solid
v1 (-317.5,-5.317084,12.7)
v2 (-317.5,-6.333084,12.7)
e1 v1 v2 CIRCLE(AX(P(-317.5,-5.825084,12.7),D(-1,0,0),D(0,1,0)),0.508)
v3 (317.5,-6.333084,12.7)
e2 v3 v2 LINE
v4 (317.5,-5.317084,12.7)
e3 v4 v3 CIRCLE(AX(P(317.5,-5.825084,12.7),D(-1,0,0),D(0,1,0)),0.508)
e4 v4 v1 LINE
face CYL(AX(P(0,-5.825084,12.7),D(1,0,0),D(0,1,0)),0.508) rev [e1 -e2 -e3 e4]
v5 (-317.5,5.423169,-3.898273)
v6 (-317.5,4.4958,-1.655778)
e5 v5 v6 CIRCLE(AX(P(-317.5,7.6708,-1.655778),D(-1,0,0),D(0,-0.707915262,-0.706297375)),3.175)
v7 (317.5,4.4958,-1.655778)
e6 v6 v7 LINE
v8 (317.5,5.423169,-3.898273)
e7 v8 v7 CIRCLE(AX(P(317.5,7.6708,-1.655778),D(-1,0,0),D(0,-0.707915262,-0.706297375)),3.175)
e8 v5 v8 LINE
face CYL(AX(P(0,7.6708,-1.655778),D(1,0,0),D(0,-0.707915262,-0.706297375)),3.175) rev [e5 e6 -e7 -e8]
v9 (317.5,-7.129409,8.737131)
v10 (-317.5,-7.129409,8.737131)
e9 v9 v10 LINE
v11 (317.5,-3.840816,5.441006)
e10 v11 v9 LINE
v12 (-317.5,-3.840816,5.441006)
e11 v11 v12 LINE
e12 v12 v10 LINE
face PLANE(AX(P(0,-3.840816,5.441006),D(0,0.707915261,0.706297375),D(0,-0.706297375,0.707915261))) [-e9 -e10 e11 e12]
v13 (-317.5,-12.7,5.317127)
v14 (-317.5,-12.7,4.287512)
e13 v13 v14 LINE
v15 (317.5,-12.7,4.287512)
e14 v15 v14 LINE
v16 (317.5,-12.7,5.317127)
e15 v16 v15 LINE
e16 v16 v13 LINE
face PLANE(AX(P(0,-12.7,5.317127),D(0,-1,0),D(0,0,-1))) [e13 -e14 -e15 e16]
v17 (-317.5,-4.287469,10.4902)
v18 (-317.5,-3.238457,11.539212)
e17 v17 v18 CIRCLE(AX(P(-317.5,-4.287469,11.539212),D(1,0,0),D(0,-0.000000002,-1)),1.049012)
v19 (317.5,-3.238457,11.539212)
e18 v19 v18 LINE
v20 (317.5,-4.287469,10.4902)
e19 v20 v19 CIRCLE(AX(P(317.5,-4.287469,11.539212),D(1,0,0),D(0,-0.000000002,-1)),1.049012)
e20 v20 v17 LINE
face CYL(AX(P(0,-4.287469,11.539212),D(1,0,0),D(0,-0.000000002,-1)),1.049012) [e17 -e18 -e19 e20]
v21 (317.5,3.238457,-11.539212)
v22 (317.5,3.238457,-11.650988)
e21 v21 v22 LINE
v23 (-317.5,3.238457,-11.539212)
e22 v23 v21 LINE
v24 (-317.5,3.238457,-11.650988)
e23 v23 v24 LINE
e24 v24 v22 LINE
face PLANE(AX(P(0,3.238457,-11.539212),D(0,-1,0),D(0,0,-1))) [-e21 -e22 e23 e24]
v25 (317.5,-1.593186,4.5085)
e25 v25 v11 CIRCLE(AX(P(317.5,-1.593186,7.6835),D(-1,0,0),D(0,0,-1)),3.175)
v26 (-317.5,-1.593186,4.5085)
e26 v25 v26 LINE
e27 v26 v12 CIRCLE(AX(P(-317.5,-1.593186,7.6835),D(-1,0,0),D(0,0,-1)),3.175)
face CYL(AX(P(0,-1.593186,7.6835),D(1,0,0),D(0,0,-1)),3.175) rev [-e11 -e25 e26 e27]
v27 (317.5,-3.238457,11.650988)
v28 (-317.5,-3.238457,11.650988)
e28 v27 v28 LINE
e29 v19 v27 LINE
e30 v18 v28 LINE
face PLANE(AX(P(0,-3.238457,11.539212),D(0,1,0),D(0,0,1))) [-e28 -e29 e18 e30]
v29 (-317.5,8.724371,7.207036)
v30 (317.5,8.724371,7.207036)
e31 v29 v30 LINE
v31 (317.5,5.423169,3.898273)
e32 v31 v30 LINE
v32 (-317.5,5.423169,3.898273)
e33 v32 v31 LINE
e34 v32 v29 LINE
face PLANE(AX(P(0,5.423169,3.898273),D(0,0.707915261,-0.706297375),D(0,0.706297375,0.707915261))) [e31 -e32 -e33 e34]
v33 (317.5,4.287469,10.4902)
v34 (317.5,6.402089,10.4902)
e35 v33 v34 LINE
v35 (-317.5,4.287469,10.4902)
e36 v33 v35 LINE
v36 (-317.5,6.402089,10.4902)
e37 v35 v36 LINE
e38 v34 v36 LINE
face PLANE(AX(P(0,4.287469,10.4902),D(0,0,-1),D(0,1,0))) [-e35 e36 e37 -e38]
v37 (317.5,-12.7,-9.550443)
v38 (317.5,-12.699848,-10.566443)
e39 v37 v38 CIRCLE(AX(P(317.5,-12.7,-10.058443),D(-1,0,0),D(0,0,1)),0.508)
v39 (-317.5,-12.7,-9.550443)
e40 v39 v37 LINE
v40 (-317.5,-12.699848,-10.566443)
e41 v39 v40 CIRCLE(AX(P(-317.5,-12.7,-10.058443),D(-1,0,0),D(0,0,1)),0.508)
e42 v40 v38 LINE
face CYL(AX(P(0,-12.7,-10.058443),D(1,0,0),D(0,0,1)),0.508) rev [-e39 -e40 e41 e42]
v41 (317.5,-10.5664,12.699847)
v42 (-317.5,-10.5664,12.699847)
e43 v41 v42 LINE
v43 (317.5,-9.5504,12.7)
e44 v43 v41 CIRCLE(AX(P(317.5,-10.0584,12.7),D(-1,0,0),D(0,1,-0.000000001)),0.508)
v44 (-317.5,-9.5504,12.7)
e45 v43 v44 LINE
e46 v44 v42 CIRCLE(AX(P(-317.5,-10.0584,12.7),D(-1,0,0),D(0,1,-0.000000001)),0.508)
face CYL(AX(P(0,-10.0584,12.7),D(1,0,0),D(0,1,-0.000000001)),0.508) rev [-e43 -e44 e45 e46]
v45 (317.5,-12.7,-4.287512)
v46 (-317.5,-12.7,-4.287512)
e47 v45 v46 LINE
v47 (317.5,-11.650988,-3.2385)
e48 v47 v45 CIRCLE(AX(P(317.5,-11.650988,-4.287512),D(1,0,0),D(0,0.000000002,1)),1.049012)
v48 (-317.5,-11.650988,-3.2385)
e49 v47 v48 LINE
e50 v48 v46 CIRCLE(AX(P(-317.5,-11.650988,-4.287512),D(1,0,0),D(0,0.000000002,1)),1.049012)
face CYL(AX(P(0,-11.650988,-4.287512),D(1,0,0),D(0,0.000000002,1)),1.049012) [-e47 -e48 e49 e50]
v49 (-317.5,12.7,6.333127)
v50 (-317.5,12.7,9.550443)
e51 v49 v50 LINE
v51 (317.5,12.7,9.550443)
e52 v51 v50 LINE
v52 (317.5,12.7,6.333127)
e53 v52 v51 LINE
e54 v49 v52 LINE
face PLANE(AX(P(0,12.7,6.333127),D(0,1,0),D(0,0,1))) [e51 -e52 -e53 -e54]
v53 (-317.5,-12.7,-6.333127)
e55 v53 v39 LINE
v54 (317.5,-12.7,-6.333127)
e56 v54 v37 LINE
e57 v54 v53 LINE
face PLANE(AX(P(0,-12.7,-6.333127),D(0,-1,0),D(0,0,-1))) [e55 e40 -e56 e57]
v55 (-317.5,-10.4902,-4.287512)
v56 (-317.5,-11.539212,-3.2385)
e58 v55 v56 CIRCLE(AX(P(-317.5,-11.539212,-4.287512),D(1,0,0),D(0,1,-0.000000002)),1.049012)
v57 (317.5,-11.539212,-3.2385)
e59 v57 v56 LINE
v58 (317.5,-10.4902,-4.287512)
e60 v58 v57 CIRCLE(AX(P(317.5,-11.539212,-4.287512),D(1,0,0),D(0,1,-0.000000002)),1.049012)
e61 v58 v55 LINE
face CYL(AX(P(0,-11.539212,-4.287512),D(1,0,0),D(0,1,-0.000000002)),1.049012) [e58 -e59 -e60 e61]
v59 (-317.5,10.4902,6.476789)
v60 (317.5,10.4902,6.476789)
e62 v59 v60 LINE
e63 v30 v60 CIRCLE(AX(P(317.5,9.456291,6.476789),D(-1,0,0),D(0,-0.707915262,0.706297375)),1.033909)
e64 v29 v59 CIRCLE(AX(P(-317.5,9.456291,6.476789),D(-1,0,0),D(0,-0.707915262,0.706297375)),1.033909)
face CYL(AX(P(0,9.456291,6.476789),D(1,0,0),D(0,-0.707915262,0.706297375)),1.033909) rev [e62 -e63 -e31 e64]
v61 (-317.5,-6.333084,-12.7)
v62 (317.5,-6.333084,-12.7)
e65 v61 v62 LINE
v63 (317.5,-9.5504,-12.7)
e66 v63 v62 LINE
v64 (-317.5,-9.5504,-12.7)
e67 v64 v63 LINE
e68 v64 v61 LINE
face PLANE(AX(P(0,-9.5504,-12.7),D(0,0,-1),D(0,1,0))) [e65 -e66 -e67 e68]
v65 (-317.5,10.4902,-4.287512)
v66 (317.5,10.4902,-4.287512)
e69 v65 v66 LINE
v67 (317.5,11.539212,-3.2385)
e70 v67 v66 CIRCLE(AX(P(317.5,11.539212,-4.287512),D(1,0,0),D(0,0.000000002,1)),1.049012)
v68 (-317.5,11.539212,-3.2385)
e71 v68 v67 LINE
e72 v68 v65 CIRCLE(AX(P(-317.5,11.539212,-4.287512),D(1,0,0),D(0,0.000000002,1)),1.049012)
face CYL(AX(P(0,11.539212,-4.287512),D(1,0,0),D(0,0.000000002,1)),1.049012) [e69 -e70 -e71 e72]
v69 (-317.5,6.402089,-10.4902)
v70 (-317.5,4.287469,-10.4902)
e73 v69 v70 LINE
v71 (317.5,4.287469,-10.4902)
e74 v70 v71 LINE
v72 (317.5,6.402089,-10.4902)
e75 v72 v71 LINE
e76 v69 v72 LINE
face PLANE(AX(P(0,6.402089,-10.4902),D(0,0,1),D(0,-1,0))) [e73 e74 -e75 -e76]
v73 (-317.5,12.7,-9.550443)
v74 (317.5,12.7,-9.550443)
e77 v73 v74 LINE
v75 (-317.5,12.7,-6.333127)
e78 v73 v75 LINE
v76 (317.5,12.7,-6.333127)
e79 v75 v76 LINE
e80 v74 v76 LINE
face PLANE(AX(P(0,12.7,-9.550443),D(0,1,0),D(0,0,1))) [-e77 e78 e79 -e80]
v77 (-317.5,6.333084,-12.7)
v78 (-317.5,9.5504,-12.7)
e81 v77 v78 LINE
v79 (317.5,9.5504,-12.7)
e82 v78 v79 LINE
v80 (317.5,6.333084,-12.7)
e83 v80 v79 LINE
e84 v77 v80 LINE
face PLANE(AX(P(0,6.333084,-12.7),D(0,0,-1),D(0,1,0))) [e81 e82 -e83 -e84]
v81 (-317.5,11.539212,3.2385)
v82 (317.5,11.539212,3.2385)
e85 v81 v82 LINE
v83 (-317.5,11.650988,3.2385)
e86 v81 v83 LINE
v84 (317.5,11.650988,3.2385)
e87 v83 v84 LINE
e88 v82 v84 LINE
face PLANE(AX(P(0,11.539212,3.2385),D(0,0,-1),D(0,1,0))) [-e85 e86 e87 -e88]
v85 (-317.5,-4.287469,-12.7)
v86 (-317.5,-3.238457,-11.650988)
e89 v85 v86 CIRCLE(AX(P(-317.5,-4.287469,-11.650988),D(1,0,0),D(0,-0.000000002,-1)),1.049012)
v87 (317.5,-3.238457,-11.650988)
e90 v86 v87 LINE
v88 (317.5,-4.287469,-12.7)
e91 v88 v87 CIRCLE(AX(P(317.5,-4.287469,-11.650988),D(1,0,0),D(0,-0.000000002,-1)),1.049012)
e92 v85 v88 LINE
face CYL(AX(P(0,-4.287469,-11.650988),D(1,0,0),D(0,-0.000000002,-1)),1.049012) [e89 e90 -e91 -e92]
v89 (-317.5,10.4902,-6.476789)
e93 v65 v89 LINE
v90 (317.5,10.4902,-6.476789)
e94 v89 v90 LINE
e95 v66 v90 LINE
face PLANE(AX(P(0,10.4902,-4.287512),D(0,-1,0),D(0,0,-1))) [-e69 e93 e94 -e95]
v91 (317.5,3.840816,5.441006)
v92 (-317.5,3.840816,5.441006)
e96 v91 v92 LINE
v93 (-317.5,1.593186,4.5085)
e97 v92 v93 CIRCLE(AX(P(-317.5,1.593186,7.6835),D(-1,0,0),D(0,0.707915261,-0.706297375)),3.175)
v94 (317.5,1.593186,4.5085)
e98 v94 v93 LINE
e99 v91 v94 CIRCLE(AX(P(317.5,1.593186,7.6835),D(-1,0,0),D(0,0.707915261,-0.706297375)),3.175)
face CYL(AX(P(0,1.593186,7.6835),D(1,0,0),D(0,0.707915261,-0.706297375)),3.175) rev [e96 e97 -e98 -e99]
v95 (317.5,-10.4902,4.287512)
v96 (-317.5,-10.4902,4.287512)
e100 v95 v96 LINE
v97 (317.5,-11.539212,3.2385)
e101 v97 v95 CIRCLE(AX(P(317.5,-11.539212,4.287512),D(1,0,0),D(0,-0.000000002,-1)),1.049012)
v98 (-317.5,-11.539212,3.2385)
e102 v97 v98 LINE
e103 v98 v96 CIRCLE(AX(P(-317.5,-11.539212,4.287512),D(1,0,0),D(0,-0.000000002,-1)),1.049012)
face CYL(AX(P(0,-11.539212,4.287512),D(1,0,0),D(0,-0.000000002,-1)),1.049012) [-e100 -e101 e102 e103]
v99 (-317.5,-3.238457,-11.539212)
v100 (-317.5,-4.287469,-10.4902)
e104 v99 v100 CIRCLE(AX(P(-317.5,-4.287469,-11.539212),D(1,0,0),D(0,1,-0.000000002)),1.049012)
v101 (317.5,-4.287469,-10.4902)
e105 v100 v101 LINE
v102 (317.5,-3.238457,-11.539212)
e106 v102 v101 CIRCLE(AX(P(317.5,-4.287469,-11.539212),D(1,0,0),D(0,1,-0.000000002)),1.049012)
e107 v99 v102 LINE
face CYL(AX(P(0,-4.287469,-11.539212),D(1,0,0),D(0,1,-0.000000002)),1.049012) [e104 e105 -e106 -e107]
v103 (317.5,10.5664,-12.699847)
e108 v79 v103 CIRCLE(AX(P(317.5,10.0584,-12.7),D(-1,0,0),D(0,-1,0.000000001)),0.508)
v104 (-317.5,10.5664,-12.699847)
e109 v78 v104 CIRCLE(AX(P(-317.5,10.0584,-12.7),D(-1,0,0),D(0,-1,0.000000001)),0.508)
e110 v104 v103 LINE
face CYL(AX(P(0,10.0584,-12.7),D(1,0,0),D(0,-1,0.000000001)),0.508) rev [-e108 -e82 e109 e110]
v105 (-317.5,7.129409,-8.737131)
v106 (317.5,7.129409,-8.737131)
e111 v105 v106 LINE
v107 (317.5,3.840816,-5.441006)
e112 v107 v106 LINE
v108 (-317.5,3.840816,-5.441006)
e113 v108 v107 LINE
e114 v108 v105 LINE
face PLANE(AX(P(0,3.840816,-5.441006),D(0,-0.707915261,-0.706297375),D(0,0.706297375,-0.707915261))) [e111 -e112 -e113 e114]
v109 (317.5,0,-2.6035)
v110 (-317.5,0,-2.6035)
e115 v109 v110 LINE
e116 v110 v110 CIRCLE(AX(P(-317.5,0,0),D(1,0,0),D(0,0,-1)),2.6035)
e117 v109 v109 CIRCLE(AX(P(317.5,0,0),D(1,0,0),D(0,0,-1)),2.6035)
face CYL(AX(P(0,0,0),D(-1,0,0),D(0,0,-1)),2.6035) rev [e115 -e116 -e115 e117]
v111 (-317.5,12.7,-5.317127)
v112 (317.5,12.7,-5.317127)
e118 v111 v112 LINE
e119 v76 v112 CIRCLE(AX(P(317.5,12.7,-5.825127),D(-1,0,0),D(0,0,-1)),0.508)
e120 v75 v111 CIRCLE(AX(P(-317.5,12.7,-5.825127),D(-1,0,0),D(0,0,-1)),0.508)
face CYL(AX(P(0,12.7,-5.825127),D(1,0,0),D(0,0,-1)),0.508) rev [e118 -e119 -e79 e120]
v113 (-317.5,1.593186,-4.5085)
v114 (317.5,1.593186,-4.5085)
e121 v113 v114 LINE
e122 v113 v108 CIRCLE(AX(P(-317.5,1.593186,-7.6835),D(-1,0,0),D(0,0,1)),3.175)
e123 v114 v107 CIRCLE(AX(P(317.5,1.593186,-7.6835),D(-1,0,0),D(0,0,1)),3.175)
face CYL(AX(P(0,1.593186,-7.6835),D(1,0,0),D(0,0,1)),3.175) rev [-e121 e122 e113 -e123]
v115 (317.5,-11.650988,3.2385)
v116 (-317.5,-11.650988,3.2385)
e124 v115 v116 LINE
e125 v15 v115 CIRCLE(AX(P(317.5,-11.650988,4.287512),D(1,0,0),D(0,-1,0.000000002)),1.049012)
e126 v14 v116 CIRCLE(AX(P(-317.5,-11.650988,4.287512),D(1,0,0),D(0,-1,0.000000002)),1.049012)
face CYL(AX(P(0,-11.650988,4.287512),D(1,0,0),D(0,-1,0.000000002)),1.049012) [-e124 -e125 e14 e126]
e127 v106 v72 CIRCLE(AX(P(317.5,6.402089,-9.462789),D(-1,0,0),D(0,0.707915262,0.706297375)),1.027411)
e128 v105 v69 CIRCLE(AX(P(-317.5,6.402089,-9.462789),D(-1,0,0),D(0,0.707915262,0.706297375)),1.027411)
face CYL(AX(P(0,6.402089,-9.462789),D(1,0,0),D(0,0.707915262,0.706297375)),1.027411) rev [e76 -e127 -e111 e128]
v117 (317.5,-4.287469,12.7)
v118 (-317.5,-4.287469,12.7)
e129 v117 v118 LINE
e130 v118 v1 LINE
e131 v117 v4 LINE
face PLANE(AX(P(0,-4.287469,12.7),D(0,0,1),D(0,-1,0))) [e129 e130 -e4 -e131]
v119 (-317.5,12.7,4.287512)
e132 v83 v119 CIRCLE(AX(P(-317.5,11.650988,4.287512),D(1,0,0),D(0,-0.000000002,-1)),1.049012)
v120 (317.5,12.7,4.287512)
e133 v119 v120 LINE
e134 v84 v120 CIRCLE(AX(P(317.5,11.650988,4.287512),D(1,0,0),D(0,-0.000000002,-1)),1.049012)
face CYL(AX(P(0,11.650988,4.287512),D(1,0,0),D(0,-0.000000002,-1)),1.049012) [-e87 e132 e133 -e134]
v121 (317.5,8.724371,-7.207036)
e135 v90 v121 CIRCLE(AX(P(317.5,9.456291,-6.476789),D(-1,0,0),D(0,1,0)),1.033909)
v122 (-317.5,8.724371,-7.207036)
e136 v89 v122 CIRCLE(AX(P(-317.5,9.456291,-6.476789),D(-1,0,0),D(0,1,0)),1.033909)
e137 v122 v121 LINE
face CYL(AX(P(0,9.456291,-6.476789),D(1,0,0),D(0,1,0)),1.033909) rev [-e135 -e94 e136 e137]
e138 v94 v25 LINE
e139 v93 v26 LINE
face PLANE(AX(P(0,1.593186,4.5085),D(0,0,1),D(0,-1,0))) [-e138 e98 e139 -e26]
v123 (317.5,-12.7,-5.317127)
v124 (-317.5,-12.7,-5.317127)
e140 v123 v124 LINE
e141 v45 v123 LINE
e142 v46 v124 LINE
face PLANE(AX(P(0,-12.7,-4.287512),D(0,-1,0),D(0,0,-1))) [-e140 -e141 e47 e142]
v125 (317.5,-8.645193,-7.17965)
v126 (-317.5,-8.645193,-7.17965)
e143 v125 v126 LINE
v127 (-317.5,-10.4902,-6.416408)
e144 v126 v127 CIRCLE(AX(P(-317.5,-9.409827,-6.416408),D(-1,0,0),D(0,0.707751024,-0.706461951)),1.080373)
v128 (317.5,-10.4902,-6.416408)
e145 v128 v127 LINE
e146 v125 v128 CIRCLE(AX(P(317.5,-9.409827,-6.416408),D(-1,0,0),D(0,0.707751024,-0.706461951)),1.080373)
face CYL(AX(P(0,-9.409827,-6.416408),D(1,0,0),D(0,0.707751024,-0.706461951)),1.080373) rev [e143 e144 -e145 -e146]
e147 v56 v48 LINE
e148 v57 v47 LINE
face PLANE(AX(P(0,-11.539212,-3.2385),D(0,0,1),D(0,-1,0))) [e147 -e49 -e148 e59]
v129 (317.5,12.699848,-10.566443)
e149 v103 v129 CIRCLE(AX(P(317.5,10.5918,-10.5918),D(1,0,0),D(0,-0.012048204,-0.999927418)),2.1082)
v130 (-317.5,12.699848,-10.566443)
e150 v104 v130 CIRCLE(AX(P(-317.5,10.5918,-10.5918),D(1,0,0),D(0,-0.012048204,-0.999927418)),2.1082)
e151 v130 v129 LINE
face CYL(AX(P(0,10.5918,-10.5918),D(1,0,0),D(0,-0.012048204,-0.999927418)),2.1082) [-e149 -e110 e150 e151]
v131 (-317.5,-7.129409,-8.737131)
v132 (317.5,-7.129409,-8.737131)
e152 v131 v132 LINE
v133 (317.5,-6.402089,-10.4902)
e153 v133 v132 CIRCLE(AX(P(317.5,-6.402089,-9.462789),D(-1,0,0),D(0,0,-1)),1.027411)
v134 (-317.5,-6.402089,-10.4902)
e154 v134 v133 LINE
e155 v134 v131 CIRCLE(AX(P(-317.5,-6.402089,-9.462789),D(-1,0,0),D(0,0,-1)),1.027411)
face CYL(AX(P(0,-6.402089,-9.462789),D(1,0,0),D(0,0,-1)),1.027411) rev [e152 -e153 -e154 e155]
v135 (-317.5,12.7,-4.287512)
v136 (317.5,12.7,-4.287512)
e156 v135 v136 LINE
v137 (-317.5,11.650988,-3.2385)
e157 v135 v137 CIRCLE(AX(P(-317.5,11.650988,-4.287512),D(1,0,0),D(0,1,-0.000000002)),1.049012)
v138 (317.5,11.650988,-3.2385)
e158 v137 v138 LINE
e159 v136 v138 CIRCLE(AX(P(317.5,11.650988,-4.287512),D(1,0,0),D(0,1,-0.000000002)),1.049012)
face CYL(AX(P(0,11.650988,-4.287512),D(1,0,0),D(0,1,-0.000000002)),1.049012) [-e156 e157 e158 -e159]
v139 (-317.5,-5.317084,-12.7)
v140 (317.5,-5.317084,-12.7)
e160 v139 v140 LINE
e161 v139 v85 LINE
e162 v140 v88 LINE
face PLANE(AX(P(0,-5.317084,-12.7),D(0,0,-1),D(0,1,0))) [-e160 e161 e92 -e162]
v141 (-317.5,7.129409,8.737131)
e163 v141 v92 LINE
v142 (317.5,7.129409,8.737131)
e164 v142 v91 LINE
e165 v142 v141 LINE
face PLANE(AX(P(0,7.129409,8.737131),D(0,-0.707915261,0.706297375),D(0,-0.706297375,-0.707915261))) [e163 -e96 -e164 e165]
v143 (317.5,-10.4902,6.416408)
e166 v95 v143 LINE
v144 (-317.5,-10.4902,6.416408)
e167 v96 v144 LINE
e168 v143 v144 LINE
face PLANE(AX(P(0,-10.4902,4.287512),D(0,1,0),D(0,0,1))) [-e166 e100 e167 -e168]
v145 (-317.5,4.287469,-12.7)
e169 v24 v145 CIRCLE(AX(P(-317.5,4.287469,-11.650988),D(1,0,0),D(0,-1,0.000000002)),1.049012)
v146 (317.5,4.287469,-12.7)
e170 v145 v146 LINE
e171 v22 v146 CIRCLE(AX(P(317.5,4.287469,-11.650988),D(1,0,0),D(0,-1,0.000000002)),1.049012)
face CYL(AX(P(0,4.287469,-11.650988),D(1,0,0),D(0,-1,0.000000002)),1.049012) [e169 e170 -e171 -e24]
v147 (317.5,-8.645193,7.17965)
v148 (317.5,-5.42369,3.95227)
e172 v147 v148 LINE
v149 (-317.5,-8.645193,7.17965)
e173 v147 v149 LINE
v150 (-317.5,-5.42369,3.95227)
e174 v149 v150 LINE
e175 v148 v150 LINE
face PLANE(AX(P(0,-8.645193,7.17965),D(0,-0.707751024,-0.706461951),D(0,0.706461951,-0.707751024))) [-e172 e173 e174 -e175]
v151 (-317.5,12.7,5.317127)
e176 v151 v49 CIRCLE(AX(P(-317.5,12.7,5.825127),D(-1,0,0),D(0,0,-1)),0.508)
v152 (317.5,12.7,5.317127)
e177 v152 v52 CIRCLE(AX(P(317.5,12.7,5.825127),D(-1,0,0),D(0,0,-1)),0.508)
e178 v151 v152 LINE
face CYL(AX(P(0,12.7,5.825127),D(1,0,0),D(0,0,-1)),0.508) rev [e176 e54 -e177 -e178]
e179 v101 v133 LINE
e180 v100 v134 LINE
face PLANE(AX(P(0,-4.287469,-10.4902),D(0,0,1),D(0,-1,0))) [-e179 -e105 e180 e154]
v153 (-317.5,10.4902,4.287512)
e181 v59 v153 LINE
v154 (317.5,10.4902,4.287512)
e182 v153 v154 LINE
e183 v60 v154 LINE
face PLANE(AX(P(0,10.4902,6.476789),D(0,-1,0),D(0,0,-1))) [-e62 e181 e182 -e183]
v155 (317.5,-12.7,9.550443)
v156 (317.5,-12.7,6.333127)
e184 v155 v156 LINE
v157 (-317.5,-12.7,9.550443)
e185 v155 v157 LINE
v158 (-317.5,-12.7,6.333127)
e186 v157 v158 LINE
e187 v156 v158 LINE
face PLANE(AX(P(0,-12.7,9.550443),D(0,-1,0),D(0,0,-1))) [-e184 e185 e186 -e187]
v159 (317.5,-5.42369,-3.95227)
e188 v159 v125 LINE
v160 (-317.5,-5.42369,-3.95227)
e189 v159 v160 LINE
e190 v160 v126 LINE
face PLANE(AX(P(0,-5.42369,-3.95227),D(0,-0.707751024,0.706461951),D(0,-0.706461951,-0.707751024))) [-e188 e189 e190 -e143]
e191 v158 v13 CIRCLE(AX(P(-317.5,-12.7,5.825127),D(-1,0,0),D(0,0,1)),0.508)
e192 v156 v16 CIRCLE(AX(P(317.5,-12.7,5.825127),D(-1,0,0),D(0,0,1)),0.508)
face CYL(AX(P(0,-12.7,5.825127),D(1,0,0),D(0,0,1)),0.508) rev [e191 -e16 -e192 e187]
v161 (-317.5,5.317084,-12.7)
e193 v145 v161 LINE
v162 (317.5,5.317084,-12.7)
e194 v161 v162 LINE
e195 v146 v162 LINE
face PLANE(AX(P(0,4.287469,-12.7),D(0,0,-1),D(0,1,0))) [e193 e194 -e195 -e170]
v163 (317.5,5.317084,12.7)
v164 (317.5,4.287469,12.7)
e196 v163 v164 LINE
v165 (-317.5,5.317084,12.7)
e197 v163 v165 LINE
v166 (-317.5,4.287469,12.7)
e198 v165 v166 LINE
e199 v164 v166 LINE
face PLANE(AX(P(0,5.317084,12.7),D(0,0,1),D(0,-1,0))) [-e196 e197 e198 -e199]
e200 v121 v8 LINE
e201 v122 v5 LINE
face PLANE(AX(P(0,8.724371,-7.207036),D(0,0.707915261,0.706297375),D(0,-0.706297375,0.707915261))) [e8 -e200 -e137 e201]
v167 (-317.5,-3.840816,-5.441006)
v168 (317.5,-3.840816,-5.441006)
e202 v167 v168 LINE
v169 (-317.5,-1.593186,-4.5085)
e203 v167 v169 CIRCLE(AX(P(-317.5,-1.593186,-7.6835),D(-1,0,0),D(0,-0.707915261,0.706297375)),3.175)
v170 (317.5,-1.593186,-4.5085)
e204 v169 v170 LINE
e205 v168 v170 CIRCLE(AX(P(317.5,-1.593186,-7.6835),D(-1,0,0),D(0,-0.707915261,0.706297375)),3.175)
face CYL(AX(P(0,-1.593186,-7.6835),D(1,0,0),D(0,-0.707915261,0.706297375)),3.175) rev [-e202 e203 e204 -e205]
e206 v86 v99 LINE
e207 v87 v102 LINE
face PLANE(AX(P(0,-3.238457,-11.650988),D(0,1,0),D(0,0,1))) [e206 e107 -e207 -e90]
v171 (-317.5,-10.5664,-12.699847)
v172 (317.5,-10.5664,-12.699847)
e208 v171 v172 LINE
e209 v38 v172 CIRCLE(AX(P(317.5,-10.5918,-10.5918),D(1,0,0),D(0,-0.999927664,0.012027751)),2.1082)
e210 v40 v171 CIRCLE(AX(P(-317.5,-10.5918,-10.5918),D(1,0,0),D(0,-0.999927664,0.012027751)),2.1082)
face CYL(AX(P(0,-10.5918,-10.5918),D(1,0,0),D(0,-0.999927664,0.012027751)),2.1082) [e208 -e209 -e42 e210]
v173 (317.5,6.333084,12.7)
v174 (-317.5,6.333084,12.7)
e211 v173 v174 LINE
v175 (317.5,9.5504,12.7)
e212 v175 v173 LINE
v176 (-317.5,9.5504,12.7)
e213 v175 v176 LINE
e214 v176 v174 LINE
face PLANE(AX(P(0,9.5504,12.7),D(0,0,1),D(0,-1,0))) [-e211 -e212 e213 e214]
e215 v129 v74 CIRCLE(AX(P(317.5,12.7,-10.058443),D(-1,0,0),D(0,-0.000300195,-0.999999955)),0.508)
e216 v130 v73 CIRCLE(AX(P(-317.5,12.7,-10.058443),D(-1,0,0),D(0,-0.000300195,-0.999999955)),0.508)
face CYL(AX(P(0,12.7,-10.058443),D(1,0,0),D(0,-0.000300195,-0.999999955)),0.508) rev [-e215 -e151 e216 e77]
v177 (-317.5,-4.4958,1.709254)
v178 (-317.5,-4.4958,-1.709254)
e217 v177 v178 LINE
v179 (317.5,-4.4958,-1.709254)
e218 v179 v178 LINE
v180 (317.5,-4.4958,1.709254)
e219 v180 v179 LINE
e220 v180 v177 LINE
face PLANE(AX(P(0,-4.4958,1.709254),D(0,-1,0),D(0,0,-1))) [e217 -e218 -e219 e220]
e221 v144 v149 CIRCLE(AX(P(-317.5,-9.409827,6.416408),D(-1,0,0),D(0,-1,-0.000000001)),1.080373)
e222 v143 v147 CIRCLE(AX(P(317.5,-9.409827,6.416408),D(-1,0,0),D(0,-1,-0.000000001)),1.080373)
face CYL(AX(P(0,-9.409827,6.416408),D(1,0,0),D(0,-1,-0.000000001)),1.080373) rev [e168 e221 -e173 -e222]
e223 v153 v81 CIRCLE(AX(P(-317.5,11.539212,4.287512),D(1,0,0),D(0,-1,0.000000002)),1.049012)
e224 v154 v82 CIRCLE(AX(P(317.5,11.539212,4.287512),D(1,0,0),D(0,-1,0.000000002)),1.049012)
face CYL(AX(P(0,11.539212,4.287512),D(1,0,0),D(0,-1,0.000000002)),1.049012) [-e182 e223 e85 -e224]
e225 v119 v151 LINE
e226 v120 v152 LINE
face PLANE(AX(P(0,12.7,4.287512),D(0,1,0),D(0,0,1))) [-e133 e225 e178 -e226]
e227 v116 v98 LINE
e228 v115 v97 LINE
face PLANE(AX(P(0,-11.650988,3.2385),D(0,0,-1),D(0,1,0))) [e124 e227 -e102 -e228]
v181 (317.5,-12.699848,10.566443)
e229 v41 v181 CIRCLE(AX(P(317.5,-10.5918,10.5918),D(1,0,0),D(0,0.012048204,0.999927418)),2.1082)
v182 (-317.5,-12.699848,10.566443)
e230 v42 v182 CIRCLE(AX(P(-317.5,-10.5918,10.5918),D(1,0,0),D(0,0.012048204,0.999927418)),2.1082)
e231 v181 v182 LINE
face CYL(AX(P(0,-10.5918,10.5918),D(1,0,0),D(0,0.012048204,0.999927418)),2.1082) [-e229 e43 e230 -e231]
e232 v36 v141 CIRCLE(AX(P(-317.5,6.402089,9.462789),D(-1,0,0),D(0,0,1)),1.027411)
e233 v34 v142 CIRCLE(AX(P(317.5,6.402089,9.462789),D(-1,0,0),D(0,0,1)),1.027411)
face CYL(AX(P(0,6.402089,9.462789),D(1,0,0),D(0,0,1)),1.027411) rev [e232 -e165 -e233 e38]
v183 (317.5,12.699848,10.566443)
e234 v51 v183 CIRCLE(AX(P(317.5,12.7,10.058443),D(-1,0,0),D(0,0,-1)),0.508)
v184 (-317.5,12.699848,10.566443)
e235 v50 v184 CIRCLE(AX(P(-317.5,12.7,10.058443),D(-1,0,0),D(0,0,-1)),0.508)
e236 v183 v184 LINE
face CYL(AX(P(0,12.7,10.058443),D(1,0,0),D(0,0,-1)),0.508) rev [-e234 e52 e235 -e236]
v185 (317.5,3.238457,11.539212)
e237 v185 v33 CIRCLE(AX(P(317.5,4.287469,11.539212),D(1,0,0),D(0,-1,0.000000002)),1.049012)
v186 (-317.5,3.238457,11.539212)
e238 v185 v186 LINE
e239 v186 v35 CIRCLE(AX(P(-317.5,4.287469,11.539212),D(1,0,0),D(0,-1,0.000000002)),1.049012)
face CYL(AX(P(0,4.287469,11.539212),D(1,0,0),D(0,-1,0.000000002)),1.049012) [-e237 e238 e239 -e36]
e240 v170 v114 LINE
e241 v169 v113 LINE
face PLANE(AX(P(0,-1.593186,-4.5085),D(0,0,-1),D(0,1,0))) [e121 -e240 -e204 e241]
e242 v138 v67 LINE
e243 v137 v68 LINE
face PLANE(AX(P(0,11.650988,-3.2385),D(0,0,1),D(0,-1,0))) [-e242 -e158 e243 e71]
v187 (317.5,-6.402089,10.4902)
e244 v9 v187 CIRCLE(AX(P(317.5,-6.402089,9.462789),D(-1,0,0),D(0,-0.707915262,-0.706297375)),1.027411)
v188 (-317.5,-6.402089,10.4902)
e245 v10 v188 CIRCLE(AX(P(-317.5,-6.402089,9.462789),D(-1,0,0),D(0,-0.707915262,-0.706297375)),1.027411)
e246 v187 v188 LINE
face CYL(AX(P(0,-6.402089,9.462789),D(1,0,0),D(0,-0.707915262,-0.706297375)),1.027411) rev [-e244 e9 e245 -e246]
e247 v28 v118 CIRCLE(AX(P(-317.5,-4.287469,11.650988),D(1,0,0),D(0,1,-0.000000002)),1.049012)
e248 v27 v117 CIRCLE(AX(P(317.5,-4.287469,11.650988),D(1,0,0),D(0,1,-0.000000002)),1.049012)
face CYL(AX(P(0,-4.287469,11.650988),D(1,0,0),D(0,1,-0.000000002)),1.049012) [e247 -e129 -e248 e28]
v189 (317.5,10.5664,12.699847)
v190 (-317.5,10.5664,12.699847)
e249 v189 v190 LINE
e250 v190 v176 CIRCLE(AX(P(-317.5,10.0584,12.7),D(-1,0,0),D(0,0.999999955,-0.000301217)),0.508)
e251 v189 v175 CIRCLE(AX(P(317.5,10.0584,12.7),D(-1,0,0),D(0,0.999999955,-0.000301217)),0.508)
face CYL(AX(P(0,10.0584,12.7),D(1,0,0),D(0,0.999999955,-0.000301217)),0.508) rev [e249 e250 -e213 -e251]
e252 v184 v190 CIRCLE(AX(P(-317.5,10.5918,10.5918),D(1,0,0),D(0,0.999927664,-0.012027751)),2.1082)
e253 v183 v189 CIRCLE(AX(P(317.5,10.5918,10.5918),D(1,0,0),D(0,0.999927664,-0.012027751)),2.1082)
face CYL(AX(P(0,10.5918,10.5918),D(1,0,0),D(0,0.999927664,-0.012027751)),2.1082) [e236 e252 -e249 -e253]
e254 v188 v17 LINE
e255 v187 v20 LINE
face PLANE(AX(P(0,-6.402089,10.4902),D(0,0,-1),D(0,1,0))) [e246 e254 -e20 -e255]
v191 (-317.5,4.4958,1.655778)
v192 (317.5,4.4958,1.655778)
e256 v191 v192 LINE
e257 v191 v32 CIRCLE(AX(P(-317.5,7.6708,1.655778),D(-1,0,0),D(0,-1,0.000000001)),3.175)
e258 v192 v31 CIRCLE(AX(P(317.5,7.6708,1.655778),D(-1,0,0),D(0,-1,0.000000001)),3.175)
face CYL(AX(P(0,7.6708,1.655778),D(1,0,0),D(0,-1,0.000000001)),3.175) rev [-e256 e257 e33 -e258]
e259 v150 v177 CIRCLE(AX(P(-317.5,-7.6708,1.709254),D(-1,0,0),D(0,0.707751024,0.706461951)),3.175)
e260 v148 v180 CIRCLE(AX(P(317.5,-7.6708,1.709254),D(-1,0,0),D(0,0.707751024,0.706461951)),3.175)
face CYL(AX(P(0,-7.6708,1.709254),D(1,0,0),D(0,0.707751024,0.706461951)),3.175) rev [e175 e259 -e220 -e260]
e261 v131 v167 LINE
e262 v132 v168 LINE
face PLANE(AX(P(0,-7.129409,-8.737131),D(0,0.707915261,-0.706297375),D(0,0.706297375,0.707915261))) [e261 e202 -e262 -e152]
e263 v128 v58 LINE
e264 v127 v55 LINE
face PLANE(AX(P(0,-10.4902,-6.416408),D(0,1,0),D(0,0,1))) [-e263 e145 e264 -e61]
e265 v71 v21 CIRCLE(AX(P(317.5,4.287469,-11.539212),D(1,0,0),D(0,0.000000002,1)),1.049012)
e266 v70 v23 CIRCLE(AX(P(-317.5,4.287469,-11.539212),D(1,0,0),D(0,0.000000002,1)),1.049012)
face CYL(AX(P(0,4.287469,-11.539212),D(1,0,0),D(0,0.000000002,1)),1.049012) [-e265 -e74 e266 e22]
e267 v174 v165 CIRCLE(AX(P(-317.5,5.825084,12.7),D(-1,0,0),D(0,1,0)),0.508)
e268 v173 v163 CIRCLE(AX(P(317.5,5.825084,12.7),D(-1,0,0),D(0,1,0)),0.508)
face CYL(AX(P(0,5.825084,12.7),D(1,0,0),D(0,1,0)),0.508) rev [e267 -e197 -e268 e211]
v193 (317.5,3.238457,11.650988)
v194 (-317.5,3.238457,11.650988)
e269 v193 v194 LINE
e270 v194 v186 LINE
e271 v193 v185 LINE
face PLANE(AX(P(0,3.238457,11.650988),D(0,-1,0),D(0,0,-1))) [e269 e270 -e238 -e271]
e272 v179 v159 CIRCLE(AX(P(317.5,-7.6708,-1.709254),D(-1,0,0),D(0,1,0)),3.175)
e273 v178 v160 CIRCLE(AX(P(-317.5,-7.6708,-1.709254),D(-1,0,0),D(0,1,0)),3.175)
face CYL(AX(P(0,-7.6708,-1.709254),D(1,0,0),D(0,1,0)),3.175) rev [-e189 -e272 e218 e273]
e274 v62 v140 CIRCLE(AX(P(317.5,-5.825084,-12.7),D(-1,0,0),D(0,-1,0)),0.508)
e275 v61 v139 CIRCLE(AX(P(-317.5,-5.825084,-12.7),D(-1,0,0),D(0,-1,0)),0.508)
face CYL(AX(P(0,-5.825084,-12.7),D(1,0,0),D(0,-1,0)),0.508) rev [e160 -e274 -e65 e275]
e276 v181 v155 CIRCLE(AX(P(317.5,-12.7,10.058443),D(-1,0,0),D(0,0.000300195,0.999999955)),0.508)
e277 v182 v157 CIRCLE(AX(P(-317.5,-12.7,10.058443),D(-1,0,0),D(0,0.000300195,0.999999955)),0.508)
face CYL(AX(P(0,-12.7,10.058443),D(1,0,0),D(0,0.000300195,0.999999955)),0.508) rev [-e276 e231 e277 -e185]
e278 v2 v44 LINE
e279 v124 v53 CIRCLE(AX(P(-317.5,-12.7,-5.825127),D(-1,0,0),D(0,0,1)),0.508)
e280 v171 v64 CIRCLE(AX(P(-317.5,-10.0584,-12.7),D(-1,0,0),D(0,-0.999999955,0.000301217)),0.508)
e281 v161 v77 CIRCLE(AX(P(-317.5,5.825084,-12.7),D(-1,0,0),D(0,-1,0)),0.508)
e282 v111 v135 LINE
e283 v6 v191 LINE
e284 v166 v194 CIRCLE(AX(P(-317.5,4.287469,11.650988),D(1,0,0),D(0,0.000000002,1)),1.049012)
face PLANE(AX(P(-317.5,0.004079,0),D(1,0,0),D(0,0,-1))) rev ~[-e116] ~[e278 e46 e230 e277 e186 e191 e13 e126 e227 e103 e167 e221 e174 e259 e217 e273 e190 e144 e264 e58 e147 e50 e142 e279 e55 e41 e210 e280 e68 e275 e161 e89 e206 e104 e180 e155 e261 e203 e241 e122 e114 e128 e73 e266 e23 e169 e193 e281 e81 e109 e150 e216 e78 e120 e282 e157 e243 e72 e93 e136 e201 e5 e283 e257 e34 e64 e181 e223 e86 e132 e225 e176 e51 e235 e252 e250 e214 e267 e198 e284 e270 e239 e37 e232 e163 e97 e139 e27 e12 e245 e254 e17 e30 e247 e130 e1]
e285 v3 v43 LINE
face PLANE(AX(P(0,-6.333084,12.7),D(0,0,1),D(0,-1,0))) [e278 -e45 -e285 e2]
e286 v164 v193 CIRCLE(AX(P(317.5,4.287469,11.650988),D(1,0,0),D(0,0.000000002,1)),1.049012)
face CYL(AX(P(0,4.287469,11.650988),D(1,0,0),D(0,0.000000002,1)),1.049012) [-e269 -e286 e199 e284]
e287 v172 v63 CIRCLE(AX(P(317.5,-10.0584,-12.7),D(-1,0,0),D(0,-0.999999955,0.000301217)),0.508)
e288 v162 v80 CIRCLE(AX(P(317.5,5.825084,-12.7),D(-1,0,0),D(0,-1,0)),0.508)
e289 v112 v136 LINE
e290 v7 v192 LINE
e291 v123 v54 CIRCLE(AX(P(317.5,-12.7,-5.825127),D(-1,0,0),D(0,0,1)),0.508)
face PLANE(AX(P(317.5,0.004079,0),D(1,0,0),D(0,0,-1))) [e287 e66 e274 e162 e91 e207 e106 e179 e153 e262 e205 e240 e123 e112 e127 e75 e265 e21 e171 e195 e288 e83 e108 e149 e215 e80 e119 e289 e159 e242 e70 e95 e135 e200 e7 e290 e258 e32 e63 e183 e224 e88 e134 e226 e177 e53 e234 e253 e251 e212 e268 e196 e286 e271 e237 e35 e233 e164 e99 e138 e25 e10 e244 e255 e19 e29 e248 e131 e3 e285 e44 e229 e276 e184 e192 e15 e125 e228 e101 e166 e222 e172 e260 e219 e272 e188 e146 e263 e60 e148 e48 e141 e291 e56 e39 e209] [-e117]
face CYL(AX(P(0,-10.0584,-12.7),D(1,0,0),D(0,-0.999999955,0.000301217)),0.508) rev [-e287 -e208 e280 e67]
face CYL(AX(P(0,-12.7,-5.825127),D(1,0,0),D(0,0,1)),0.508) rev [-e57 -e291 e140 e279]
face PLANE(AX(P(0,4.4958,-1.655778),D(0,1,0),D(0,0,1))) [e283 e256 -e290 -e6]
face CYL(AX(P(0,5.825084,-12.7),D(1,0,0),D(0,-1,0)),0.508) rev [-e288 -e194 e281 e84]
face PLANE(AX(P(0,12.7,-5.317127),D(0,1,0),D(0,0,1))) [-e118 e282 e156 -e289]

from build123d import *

# Parameters (mm, degrees)
SKETCH1_R           = 2.6035
BOSS_EXTRUDE1_DEPTH = 317.5


with BuildPart() as part:
    # Sketch1 → Boss-Extrude1 (new body, symmetric)
    with BuildSketch(Plane(origin=(0, 0, 0), x_dir=(0, 0, -1), z_dir=(1, 0, 0))):
        with BuildLine():
            Line((6.333126718, -12.7), (9.550443118, -12.7))
            ThreePointArc((9.550443118, -12.7), (10.058366869, -12.192000006), (10.566443095, -12.699847501))
            ThreePointArc((10.566443095, -12.699847501), (12.082537762, -12.08250727), (12.699846982, -10.566399977))
            ThreePointArc((12.699846982, -10.566399977), (12.192000006, -10.058323491), (12.7, -9.5504))
            Line((12.7, -9.5504), (12.7, -6.3330836))
            ThreePointArc((12.7, -6.3330836), (12.192, -5.8250836), (12.7, -5.3170836))
            Line((12.7, -5.3170836), (12.7, -4.287469289))
            ThreePointArc((12.7, -4.287469289), (12.39275138, -3.545705502), (11.650987593, -3.238456882))
            Line((11.650987593, -3.238456882), (11.539212407, -3.238456882))
            ThreePointArc((11.539212407, -3.238456882), (10.79744862, -3.545705502), (10.4902, -4.287469289))
            Line((10.4902, -4.287469289), (10.4902, -6.402089023))
            ThreePointArc((10.4902, -6.402089023), (9.856505071, -7.351067942), (8.737131347, -7.129408934))
            Line((8.737131347, -7.129408934), (5.441005833, -3.840816462))
            ThreePointArc((5.441005833, -3.840816462), (4.750877967, -2.809883091), (4.5085, -1.593185507))
            Line((4.5085, -1.593185507), (4.5085, 1.593185507))
            ThreePointArc((4.5085, 1.593185507), (4.750877967, 2.809883091), (5.441005833, 3.840816462))
            Line((5.441005833, 3.840816462), (8.737131347, 7.129408934))
            ThreePointArc((8.737131347, 7.129408934), (9.856505071, 7.351067942), (10.4902, 6.402089023))
            Line((10.4902, 6.402089023), (10.4902, 4.287469289))
            ThreePointArc((10.4902, 4.287469289), (10.79744862, 3.545705502), (11.539212407, 3.238456882))
            Line((11.539212407, 3.238456882), (11.650987593, 3.238456882))
            ThreePointArc((11.650987593, 3.238456882), (12.39275138, 3.545705502), (12.7, 4.287469289))
            Line((12.7, 4.287469289), (12.7, 5.3170836))
            ThreePointArc((12.7, 5.3170836), (12.192, 5.8250836), (12.7, 6.3330836))
            Line((12.7, 6.3330836), (12.7, 9.5504))
            ThreePointArc((12.7, 9.5504), (12.192000006, 10.058323491), (12.699846982, 10.566399977))
            ThreePointArc((12.699846982, 10.566399977), (12.082537762, 12.08250727), (10.566443095, 12.699847501))
            ThreePointArc((10.566443095, 12.699847501), (10.058366869, 12.192000006), (9.550443118, 12.7))
            Line((9.550443118, 12.7), (6.333126718, 12.7))
            ThreePointArc((6.333126718, 12.7), (5.825126718, 12.192), (5.317126718, 12.7))
            Line((5.317126718, 12.7), (4.287512407, 12.7))
            ThreePointArc((4.287512407, 12.7), (3.54574862, 12.39275138), (3.2385, 11.650987593))
            Line((3.2385, 11.650987593), (3.2385, 11.539212407))
            ThreePointArc((3.2385, 11.539212407), (3.54574862, 10.79744862), (4.287512407, 10.4902))
            Line((4.287512407, 10.4902), (6.476788598, 10.4902))
            ThreePointArc((6.476788598, 10.4902), (7.432222385, 9.85140422), (7.207036008, 8.724370562))
            Line((7.207036008, 8.724370562), (3.898272566, 5.423169045))
            ThreePointArc((3.898272566, 5.423169045), (2.869120213, 4.736787962), (1.655778399, 4.4958))
            Line((1.655778399, 4.4958), (-1.655778399, 4.4958))
            ThreePointArc((-1.655778399, 4.4958), (-2.869120213, 4.736787962), (-3.898272566, 5.423169045))
            Line((-3.898272566, 5.423169045), (-7.207036008, 8.724370562))
            ThreePointArc((-7.207036008, 8.724370562), (-7.432222385, 9.85140422), (-6.476788598, 10.4902))
            Line((-6.476788598, 10.4902), (-4.287512407, 10.4902))
            ThreePointArc((-4.287512407, 10.4902), (-3.54574862, 10.79744862), (-3.2385, 11.539212407))
            Line((-3.2385, 11.539212407), (-3.2385, 11.650987593))
            ThreePointArc((-3.2385, 11.650987593), (-3.54574862, 12.39275138), (-4.287512407, 12.7))
            Line((-4.287512407, 12.7), (-5.317126718, 12.7))
            ThreePointArc((-5.317126718, 12.7), (-5.825126718, 12.192), (-6.333126718, 12.7))
            Line((-6.333126718, 12.7), (-9.550443118, 12.7))
            ThreePointArc((-9.550443118, 12.7), (-10.058366869, 12.192000006), (-10.566443095, 12.699847501))
            ThreePointArc((-10.566443095, 12.699847501), (-12.082537762, 12.08250727), (-12.699846982, 10.566399977))
            ThreePointArc((-12.699846982, 10.566399977), (-12.192000006, 10.058323491), (-12.7, 9.5504))
            Line((-12.7, 9.5504), (-12.7, 6.3330836))
            ThreePointArc((-12.7, 6.3330836), (-12.192, 5.8250836), (-12.7, 5.3170836))
            Line((-12.7, 5.3170836), (-12.7, 4.287469289))
            ThreePointArc((-12.7, 4.287469289), (-12.39275138, 3.545705502), (-11.650987593, 3.238456882))
            Line((-11.650987593, 3.238456882), (-11.539212407, 3.238456882))
            ThreePointArc((-11.539212407, 3.238456882), (-10.79744862, 3.545705502), (-10.4902, 4.287469289))
            Line((-10.4902, 4.287469289), (-10.4902, 6.402089023))
            ThreePointArc((-10.4902, 6.402089023), (-9.856505071, 7.351067942), (-8.737131347, 7.129408934))
            Line((-8.737131347, 7.129408934), (-5.441005833, 3.840816462))
            ThreePointArc((-5.441005833, 3.840816462), (-4.750877967, 2.809883091), (-4.5085, 1.593185507))
            Line((-4.5085, 1.593185507), (-4.5085, -1.593185507))
            ThreePointArc((-4.5085, -1.593185507), (-4.750877967, -2.809883091), (-5.441005833, -3.840816462))
            Line((-5.441005833, -3.840816462), (-8.737131347, -7.129408934))
            ThreePointArc((-8.737131347, -7.129408934), (-9.856505071, -7.351067942), (-10.4902, -6.402089023))
            Line((-10.4902, -6.402089023), (-10.4902, -4.287469289))
            ThreePointArc((-10.4902, -4.287469289), (-10.79744862, -3.545705502), (-11.539212407, -3.238456882))
            Line((-11.539212407, -3.238456882), (-11.650987593, -3.238456882))
            ThreePointArc((-11.650987593, -3.238456882), (-12.39275138, -3.545705502), (-12.7, -4.287469289))
            Line((-12.7, -4.287469289), (-12.7, -5.3170836))
            ThreePointArc((-12.7, -5.3170836), (-12.192, -5.8250836), (-12.7, -6.3330836))
            Line((-12.7, -6.3330836), (-12.7, -9.5504))
            ThreePointArc((-12.7, -9.5504), (-12.192000006, -10.058323491), (-12.699846982, -10.566399977))
            ThreePointArc((-12.699846982, -10.566399977), (-12.082537762, -12.08250727), (-10.566443095, -12.699847501))
            ThreePointArc((-10.566443095, -12.699847501), (-10.058366869, -12.192000006), (-9.550443118, -12.7))
            Line((-9.550443118, -12.7), (-6.333126718, -12.7))
            ThreePointArc((-6.333126718, -12.7), (-5.825126718, -12.192), (-5.317126718, -12.7))
            Line((-5.317126718, -12.7), (-4.287512407, -12.7))
            ThreePointArc((-4.287512407, -12.7), (-3.54574862, -12.39275138), (-3.2385, -11.650987593))
            Line((-3.2385, -11.650987593), (-3.2385, -11.539212407))
            ThreePointArc((-3.2385, -11.539212407), (-3.54574862, -10.79744862), (-4.287512407, -10.4902))
            Line((-4.287512407, -10.4902), (-6.416408329, -10.4902))
            ThreePointArc((-6.416408329, -10.4902), (-7.41473083, -9.822813117), (-7.179650497, -8.645192506))
            Line((-7.179650497, -8.645192506), (-3.952270251, -5.423690499))
            ThreePointArc((-3.952270251, -5.423690499), (-2.922936451, -4.736929036), (-1.709253557, -4.4958))
            Line((-1.709253557, -4.4958), (1.709253557, -4.4958))
            ThreePointArc((1.709253557, -4.4958), (2.922936451, -4.736929036), (3.952270251, -5.423690499))
            Line((3.952270251, -5.423690499), (7.179650497, -8.645192506))
            ThreePointArc((7.179650497, -8.645192506), (7.41473083, -9.822813117), (6.416408329, -10.4902))
            Line((6.416408329, -10.4902), (4.287512407, -10.4902))
            ThreePointArc((4.287512407, -10.4902), (3.54574862, -10.79744862), (3.2385, -11.539212407))
            Line((3.2385, -11.539212407), (3.2385, -11.650987593))
            ThreePointArc((3.2385, -11.650987593), (3.54574862, -12.39275138), (4.287512407, -12.7))
            Line((4.287512407, -12.7), (5.317126718, -12.7))
            ThreePointArc((5.317126718, -12.7), (5.825126718, -12.192), (6.333126718, -12.7))
        make_face()
        Circle(SKETCH1_R, mode=Mode.SUBTRACT)
    extrude(amount=BOSS_EXTRUDE1_DEPTH, both=True)


solid = part.part
